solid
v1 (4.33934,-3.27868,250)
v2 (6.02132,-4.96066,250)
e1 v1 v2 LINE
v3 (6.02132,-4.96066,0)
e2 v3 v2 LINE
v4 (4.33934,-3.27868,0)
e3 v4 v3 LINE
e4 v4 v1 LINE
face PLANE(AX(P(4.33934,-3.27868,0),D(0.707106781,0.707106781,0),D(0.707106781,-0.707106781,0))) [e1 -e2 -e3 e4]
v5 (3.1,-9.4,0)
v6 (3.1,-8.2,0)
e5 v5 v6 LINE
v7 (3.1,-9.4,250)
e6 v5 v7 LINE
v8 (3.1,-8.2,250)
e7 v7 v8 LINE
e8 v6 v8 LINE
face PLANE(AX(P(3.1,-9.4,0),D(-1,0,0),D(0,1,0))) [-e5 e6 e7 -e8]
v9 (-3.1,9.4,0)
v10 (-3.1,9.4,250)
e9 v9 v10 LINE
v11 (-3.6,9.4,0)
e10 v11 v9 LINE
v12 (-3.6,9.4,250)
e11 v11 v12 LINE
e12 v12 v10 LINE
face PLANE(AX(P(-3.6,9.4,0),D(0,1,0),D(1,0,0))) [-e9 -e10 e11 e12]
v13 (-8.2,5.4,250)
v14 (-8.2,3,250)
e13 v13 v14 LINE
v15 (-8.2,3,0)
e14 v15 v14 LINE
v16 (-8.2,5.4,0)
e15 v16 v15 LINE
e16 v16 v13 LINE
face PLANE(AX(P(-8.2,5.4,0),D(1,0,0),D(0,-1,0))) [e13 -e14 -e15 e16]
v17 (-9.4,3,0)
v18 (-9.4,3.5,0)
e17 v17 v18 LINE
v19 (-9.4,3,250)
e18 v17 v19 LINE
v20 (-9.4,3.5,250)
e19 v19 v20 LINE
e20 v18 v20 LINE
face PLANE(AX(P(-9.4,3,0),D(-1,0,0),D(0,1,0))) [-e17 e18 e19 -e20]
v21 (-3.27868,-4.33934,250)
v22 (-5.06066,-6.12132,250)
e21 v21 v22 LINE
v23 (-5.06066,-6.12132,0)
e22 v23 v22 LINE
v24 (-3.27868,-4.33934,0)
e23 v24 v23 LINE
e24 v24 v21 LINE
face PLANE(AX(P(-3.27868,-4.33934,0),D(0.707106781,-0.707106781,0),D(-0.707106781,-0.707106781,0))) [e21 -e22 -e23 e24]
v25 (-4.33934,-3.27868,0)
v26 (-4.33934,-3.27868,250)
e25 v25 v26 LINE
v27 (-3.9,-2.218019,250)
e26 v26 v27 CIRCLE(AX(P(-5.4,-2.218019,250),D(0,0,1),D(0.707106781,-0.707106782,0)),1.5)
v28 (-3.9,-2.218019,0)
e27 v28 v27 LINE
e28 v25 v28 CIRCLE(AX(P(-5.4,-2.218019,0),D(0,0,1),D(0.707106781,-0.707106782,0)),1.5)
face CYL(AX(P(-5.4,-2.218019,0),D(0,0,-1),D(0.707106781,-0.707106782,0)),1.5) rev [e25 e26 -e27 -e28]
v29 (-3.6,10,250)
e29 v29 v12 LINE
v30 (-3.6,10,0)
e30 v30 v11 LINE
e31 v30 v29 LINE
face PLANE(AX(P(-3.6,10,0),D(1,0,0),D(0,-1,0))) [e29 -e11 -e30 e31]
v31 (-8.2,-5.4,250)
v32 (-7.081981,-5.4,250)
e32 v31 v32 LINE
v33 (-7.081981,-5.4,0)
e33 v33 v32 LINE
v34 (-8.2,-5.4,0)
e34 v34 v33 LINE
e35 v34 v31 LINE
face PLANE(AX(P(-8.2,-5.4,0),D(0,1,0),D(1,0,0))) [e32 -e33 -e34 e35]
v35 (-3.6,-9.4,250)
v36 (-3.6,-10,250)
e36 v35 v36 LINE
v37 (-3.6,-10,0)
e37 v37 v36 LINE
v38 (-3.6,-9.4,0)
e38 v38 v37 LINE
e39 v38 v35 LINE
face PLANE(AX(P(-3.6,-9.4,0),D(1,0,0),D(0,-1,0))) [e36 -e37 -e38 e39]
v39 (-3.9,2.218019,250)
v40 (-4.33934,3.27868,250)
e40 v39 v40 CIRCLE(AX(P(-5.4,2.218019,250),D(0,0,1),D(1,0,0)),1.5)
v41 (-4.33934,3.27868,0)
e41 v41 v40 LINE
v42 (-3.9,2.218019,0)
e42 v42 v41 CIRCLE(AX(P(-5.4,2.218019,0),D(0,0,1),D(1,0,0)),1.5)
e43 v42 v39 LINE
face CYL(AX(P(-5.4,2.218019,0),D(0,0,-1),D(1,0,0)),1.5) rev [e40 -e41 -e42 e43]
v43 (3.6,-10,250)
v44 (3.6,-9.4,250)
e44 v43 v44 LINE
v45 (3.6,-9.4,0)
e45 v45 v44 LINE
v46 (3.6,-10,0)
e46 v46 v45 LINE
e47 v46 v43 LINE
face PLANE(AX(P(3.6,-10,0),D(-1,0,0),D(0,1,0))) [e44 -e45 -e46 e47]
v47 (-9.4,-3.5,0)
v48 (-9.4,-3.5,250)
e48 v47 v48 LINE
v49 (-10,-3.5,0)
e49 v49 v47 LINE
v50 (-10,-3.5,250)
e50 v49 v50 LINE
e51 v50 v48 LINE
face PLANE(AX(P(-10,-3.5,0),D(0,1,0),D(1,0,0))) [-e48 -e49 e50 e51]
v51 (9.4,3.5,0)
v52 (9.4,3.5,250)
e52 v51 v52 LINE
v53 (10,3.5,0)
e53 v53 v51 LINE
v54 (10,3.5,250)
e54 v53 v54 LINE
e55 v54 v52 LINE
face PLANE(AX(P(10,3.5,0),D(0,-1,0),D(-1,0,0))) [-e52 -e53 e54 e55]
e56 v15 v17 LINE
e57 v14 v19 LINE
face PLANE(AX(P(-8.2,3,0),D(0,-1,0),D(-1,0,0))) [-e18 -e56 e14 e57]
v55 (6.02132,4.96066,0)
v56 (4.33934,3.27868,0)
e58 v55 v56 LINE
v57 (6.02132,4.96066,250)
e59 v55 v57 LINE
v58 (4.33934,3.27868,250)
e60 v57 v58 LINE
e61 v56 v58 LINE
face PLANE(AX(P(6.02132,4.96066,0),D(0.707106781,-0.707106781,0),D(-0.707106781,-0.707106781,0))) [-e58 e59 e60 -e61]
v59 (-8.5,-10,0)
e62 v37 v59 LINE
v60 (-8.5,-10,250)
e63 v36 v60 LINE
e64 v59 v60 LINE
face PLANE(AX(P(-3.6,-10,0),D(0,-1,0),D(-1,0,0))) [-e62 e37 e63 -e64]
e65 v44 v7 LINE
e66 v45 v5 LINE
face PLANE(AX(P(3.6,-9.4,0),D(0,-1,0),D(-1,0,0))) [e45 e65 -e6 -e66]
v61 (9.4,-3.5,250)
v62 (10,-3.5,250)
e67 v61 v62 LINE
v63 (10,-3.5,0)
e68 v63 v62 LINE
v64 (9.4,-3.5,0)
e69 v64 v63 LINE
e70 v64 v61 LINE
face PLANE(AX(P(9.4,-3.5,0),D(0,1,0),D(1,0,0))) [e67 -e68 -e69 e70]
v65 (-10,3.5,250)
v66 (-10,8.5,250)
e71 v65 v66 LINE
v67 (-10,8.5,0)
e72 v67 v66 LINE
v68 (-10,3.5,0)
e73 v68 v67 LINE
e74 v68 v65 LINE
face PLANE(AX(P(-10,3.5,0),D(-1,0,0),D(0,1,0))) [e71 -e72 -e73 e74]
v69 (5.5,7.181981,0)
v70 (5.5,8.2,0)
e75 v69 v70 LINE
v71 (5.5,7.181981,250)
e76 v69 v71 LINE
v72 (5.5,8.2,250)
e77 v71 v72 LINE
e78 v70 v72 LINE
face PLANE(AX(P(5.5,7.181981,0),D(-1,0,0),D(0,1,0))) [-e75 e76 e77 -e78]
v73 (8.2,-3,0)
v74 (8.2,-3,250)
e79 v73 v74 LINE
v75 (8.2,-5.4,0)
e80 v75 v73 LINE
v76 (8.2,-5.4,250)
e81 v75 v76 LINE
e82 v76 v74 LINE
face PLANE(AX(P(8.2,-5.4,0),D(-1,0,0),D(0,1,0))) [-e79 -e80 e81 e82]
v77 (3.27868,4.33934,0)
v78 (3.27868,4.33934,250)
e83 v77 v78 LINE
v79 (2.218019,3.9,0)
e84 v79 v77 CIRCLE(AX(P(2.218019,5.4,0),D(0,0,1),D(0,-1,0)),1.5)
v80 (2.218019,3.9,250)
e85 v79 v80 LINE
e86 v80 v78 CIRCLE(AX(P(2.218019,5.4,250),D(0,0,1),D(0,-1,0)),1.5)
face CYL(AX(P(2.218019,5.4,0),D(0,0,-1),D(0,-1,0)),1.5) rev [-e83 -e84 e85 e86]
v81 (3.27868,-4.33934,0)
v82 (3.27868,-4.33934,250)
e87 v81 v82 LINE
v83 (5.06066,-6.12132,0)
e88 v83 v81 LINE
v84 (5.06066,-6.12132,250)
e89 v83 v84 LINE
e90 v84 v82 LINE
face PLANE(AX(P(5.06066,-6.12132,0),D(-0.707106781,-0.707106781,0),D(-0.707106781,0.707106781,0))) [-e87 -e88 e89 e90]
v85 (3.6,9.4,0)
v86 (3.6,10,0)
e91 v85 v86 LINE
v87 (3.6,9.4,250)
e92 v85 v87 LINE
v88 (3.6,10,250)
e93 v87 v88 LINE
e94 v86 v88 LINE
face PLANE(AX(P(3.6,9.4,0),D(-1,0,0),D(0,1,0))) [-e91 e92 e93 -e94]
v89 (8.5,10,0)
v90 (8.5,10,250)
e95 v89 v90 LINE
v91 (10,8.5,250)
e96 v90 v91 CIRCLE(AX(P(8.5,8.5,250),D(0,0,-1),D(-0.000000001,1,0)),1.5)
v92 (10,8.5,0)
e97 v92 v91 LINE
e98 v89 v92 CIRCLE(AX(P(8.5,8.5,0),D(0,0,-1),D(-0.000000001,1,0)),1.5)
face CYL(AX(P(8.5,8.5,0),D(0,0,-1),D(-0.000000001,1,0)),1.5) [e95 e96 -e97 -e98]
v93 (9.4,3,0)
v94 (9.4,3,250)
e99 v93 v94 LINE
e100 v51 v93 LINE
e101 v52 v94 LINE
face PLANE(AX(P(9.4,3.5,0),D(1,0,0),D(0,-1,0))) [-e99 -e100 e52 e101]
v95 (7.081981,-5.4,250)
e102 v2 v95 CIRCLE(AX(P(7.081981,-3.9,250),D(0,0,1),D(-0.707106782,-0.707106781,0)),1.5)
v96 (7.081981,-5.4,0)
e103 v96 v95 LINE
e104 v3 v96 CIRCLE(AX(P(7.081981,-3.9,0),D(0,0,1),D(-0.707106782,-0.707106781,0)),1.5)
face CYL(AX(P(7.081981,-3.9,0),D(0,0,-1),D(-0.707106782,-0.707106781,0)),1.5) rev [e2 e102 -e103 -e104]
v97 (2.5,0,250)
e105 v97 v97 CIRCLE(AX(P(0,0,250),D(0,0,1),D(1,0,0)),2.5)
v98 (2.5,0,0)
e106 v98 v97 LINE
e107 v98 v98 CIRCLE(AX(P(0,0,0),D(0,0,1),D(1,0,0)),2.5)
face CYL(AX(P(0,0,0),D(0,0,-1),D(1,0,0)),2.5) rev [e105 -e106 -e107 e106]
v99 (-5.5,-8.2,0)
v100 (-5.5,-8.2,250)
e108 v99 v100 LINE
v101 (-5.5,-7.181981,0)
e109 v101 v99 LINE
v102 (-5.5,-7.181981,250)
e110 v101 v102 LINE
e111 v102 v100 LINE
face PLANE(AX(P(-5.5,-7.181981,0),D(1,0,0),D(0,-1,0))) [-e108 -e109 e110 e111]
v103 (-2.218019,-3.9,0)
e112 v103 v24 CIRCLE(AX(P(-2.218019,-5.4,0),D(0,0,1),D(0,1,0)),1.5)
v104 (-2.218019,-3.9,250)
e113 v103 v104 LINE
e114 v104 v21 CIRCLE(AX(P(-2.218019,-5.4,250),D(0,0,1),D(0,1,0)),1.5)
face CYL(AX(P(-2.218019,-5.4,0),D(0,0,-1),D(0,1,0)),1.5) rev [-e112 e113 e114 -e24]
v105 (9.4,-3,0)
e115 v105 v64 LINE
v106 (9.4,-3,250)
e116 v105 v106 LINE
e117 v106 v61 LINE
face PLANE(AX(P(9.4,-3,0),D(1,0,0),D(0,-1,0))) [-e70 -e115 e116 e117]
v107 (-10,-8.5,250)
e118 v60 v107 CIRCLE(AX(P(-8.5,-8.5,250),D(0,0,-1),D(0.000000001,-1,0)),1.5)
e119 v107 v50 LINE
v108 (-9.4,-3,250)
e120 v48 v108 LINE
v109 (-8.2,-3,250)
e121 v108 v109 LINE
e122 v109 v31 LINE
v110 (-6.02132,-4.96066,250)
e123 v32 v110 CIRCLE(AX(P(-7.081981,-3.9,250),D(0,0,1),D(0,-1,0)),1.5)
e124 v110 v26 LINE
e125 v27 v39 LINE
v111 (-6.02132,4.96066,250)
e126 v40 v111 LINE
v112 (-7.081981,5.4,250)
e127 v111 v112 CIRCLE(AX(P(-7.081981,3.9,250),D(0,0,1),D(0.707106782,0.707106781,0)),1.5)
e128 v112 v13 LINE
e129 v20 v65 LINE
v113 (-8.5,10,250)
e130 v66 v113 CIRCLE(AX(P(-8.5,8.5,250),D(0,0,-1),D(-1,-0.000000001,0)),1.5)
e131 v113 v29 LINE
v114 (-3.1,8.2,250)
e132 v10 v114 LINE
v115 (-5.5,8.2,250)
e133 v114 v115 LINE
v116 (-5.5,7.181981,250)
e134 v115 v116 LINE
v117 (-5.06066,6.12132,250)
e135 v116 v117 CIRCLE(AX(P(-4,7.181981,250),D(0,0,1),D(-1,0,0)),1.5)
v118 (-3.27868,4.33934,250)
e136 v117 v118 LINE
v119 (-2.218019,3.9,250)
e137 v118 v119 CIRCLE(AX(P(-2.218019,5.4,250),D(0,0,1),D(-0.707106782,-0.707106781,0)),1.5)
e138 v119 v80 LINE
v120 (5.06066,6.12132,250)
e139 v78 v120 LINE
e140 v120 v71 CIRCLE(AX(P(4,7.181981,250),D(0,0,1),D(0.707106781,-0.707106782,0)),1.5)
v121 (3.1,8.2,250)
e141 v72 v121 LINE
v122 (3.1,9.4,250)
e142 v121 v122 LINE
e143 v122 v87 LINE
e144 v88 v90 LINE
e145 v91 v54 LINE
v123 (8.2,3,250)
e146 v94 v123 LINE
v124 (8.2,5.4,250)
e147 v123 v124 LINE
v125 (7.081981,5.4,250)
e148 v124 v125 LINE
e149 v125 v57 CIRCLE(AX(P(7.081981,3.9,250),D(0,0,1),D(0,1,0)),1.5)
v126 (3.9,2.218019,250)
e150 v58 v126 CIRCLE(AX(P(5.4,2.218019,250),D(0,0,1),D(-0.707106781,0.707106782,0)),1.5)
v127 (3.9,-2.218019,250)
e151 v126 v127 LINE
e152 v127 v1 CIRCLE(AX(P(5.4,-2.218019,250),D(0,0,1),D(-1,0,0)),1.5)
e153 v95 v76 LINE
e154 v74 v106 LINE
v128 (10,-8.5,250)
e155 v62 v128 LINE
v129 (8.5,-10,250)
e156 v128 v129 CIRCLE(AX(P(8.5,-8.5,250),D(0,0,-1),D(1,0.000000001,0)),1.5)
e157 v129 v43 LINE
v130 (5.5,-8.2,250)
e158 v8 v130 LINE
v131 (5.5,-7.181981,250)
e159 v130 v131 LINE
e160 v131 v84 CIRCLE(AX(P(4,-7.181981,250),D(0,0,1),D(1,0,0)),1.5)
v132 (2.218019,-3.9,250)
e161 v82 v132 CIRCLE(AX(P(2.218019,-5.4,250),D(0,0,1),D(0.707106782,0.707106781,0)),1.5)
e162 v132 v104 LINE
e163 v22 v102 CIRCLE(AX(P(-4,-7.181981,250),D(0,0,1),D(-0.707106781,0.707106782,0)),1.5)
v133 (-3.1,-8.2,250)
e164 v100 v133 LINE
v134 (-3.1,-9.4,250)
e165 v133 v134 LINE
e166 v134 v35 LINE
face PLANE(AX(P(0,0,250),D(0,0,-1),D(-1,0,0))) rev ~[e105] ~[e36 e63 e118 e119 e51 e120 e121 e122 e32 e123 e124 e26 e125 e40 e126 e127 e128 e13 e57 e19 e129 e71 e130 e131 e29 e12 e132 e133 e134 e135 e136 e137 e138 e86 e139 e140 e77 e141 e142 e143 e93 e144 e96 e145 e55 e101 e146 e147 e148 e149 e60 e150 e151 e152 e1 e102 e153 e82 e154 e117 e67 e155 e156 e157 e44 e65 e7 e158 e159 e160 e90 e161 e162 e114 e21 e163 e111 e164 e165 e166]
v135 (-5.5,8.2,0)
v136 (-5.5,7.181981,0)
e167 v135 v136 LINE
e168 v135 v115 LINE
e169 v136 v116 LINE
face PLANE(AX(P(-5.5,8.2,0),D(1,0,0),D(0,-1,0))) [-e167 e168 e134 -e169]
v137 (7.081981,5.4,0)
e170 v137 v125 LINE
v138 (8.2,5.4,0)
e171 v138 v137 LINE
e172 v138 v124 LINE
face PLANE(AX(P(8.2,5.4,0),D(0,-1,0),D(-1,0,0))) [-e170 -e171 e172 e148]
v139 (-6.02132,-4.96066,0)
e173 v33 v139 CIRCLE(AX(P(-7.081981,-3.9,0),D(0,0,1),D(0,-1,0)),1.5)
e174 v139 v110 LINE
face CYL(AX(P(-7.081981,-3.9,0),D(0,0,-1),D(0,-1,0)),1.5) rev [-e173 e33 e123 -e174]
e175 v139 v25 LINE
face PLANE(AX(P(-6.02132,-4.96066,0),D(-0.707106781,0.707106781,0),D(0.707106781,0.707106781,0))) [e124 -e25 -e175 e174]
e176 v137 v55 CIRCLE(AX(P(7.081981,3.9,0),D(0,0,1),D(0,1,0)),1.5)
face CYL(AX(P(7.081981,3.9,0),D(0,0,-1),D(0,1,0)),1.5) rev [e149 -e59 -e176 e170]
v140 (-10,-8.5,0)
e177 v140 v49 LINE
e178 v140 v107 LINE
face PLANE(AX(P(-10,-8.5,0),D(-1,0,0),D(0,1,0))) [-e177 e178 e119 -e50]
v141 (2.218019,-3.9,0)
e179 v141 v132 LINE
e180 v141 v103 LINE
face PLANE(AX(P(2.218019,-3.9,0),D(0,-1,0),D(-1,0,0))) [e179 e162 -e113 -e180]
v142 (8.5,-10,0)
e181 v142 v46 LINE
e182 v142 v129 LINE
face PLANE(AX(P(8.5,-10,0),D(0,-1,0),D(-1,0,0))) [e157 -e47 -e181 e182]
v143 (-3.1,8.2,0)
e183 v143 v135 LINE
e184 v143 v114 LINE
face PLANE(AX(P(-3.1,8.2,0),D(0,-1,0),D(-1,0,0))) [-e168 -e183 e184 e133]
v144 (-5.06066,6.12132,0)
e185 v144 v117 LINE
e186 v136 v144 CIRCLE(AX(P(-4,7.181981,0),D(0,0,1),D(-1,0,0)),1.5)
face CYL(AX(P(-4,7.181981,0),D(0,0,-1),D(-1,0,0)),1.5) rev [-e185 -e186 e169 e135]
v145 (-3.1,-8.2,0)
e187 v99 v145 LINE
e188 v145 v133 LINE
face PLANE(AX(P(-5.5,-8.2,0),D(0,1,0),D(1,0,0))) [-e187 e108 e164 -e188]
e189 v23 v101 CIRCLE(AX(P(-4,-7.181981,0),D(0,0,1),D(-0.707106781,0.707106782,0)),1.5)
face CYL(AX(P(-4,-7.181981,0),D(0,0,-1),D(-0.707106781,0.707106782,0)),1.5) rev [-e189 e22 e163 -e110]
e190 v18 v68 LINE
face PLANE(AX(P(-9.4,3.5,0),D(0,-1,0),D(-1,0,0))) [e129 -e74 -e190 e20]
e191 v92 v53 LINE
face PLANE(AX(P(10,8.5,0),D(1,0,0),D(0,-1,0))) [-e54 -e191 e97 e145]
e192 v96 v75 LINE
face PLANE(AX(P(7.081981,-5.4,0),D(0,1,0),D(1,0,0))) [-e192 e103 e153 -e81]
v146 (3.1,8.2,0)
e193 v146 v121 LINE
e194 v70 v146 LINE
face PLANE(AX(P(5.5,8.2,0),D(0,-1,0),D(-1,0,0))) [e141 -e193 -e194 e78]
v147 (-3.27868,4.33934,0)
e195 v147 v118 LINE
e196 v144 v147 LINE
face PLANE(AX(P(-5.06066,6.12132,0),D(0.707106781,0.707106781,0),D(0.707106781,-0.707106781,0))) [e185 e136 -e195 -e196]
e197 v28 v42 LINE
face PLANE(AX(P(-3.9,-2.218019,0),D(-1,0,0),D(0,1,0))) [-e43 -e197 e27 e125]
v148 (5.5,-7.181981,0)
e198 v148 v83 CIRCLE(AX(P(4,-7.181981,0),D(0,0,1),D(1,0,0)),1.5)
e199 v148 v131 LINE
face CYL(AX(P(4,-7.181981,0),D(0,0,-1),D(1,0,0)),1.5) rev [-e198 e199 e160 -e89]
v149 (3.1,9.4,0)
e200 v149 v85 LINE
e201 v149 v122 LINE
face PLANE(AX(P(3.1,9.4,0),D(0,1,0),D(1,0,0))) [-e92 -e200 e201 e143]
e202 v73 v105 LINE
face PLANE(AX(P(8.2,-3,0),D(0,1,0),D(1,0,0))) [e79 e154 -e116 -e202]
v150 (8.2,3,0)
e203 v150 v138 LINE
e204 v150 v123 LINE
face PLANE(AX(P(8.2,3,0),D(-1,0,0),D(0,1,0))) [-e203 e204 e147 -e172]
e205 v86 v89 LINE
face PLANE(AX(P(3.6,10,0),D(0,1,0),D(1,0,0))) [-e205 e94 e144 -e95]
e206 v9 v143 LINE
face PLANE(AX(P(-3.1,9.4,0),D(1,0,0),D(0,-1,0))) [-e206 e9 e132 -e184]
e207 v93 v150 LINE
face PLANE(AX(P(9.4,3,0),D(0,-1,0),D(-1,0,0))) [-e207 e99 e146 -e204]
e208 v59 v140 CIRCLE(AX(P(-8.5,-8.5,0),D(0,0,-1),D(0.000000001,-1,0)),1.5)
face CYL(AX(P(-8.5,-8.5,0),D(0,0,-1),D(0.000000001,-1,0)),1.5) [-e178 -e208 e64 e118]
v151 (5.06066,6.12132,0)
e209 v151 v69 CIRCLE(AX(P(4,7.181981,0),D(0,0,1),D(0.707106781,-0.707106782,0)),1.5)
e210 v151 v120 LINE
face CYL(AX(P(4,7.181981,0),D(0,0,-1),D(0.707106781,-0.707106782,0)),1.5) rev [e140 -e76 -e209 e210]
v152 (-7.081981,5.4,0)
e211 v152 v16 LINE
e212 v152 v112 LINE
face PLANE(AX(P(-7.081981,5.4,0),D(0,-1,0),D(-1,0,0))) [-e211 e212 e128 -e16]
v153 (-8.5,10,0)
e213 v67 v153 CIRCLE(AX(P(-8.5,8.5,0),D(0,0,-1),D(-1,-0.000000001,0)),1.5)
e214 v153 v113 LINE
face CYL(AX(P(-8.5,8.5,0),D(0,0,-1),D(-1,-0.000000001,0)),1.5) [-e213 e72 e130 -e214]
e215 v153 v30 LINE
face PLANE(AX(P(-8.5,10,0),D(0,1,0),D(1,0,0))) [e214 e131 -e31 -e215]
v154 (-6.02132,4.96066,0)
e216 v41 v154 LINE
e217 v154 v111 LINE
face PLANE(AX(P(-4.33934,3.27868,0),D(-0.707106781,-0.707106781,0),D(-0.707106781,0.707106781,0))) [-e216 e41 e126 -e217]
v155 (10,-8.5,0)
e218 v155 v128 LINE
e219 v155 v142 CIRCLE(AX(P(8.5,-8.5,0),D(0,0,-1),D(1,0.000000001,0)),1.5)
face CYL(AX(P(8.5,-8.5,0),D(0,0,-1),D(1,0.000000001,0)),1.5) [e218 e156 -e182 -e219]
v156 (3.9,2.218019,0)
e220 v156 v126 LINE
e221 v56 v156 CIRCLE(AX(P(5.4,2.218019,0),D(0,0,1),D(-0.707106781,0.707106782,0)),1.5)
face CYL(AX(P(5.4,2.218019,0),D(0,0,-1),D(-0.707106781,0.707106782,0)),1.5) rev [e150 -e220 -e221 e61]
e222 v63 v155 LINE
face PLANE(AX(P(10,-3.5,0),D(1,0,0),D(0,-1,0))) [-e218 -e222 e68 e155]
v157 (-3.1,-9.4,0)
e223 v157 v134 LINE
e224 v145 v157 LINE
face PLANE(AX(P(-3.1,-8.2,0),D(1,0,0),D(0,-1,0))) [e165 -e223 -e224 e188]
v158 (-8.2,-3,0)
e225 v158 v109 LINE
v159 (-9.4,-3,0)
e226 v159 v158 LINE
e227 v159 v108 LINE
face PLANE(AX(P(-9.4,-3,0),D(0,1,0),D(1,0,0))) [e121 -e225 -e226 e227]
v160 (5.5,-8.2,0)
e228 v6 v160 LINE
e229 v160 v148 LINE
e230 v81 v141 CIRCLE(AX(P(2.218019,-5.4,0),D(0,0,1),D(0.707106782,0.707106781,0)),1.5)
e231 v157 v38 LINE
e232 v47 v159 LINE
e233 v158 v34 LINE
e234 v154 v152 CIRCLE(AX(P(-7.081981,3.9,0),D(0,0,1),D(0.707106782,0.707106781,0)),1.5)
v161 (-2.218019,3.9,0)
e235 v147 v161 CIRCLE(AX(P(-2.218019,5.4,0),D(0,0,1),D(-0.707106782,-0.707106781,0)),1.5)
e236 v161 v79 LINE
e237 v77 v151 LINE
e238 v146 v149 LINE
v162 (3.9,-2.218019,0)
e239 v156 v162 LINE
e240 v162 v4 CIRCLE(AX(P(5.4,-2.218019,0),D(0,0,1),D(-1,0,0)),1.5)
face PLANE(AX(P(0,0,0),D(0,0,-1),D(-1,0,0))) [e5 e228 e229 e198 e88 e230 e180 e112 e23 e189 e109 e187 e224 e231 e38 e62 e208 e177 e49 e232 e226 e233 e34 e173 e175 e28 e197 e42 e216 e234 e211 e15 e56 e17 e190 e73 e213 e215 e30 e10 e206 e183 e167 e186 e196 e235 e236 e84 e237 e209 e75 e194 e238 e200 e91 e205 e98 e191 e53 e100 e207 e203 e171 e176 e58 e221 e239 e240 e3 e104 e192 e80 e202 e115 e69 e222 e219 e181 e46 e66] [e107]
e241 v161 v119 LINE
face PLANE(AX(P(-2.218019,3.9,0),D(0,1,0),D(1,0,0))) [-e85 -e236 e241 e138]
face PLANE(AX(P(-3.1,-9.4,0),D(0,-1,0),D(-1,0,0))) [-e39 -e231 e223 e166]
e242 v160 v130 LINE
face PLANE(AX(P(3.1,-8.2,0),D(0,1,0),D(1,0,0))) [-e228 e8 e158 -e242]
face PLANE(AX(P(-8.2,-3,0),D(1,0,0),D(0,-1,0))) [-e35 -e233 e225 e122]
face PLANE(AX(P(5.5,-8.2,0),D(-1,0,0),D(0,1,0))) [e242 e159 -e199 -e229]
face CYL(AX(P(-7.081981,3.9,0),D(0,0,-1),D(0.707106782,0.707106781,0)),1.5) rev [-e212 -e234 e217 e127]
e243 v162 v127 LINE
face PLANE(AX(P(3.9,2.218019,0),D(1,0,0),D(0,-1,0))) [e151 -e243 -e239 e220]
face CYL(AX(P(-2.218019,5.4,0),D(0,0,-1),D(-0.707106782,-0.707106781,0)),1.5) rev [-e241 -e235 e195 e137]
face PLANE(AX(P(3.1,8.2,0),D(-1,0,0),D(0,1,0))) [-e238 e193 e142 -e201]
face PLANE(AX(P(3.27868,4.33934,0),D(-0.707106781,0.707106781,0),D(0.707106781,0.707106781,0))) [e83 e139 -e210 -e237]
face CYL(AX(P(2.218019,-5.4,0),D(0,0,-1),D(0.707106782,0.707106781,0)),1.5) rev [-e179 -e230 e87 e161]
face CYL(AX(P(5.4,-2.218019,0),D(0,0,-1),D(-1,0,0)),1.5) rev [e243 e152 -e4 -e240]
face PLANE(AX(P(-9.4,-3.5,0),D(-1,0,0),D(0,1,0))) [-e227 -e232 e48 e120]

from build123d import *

# Parameters (mm, degrees)
SKETCH1_R           = 2.5
BOSS_EXTRUDE1_DEPTH = 250


with BuildPart() as part:
    # Sketch1 → Boss-Extrude1 (new body)
    with BuildSketch(Plane.XY):
        with BuildLine():
            Line((-3.6, -10), (-8.5, -10))
            ThreePointArc((-8.5, -10), (-9.560660172, -9.560660172), (-10, -8.5))
            Line((-10, -8.5), (-10, -3.5))
            Line((-10, -3.5), (-9.4, -3.5))
            Line((-9.4, -3.5), (-9.4, -3))
            Line((-9.4, -3), (-8.2, -3))
            Line((-8.2, -3), (-8.2, -5.4))
            Line((-8.2, -5.4), (-7.081980515, -5.4))
            ThreePointArc((-7.081980515, -5.4), (-6.507955367, -5.285819299), (-6.021320344, -4.960660172))
            Line((-6.021320344, -4.960660172), (-4.339339828, -3.278679656))
            ThreePointArc((-4.339339828, -3.278679656), (-4.014180701, -2.792044633), (-3.9, -2.218019485))
            Line((-3.9, -2.218019485), (-3.9, 2.218019485))
            ThreePointArc((-3.9, 2.218019485), (-4.014180701, 2.792044633), (-4.339339828, 3.278679656))
            Line((-4.339339828, 3.278679656), (-6.021320344, 4.960660172))
            ThreePointArc((-6.021320344, 4.960660172), (-6.507955367, 5.285819299), (-7.081980515, 5.4))
            Line((-7.081980515, 5.4), (-8.2, 5.4))
            Line((-8.2, 5.4), (-8.2, 3))
            Line((-8.2, 3), (-9.4, 3))
            Line((-9.4, 3), (-9.4, 3.5))
            Line((-9.4, 3.5), (-10, 3.5))
            Line((-10, 3.5), (-10, 8.5))
            ThreePointArc((-10, 8.5), (-9.560660172, 9.560660172), (-8.5, 10))
            Line((-8.5, 10), (-3.6, 10))
            Line((-3.6, 10), (-3.6, 9.4))
            Line((-3.6, 9.4), (-3.1, 9.4))
            Line((-3.1, 9.4), (-3.1, 8.2))
            Line((-3.1, 8.2), (-5.5, 8.2))
            Line((-5.5, 8.2), (-5.5, 7.181980515))
            ThreePointArc((-5.5, 7.181980515), (-5.385819299, 6.607955367), (-5.060660172, 6.121320344))
            Line((-5.060660172, 6.121320344), (-3.278679656, 4.339339828))
            ThreePointArc((-3.278679656, 4.339339828), (-2.792044633, 4.014180701), (-2.218019485, 3.9))
            Line((-2.218019485, 3.9), (2.218019485, 3.9))
            ThreePointArc((2.218019485, 3.9), (2.792044633, 4.014180701), (3.278679656, 4.339339828))
            Line((3.278679656, 4.339339828), (5.060660172, 6.121320344))
            ThreePointArc((5.060660172, 6.121320344), (5.385819299, 6.607955367), (5.5, 7.181980515))
            Line((5.5, 7.181980515), (5.5, 8.2))
            Line((5.5, 8.2), (3.1, 8.2))
            Line((3.1, 8.2), (3.1, 9.4))
            Line((3.1, 9.4), (3.6, 9.4))
            Line((3.6, 9.4), (3.6, 10))
            Line((3.6, 10), (8.5, 10))
            ThreePointArc((8.5, 10), (9.560660172, 9.560660172), (10, 8.5))
            Line((10, 8.5), (10, 3.5))
            Line((10, 3.5), (9.4, 3.5))
            Line((9.4, 3.5), (9.4, 3))
            Line((9.4, 3), (8.2, 3))
            Line((8.2, 3), (8.2, 5.4))
            Line((8.2, 5.4), (7.081980515, 5.4))
            ThreePointArc((7.081980515, 5.4), (6.507955367, 5.285819299), (6.021320344, 4.960660172))
            Line((6.021320344, 4.960660172), (4.339339828, 3.278679656))
            ThreePointArc((4.339339828, 3.278679656), (4.014180701, 2.792044633), (3.9, 2.218019485))
            Line((3.9, 2.218019485), (3.9, -2.218019485))
            ThreePointArc((3.9, -2.218019485), (4.014180701, -2.792044633), (4.339339828, -3.278679656))
            Line((4.339339828, -3.278679656), (6.021320344, -4.960660172))
            ThreePointArc((6.021320344, -4.960660172), (6.507955367, -5.285819299), (7.081980515, -5.4))
            Line((7.081980515, -5.4), (8.2, -5.4))
            Line((8.2, -5.4), (8.2, -3))
            Line((8.2, -3), (9.4, -3))
            Line((9.4, -3), (9.4, -3.5))
            Line((9.4, -3.5), (10, -3.5))
            Line((10, -3.5), (10, -8.5))
            ThreePointArc((10, -8.5), (9.560660172, -9.560660172), (8.5, -10))
            Line((8.5, -10), (3.6, -10))
            Line((3.6, -10), (3.6, -9.4))
            Line((3.6, -9.4), (3.1, -9.4))
            Line((3.1, -9.4), (3.1, -8.2))
            Line((3.1, -8.2), (5.5, -8.2))
            Line((5.5, -8.2), (5.5, -7.181980515))
            ThreePointArc((5.5, -7.181980515), (5.385819299, -6.607955367), (5.060660172, -6.121320344))
            Line((5.060660172, -6.121320344), (3.278679656, -4.339339828))
            ThreePointArc((3.278679656, -4.339339828), (2.792044633, -4.014180701), (2.218019485, -3.9))
            Line((2.218019485, -3.9), (-2.218019485, -3.9))
            ThreePointArc((-2.218019485, -3.9), (-2.792044633, -4.014180701), (-3.278679656, -4.339339828))
            Line((-3.278679656, -4.339339828), (-5.060660172, -6.121320344))
            ThreePointArc((-5.060660172, -6.121320344), (-5.385819299, -6.607955367), (-5.5, -7.181980515))
            Line((-5.5, -7.181980515), (-5.5, -8.2))
            Line((-5.5, -8.2), (-3.1, -8.2))
            Line((-3.1, -8.2), (-3.1, -9.4))
            Line((-3.1, -9.4), (-3.6, -9.4))
            Line((-3.6, -9.4), (-3.6, -10))
        make_face()
        Circle(SKETCH1_R, mode=Mode.SUBTRACT)
    extrude(amount=BOSS_EXTRUDE1_DEPTH)


solid = part.part
